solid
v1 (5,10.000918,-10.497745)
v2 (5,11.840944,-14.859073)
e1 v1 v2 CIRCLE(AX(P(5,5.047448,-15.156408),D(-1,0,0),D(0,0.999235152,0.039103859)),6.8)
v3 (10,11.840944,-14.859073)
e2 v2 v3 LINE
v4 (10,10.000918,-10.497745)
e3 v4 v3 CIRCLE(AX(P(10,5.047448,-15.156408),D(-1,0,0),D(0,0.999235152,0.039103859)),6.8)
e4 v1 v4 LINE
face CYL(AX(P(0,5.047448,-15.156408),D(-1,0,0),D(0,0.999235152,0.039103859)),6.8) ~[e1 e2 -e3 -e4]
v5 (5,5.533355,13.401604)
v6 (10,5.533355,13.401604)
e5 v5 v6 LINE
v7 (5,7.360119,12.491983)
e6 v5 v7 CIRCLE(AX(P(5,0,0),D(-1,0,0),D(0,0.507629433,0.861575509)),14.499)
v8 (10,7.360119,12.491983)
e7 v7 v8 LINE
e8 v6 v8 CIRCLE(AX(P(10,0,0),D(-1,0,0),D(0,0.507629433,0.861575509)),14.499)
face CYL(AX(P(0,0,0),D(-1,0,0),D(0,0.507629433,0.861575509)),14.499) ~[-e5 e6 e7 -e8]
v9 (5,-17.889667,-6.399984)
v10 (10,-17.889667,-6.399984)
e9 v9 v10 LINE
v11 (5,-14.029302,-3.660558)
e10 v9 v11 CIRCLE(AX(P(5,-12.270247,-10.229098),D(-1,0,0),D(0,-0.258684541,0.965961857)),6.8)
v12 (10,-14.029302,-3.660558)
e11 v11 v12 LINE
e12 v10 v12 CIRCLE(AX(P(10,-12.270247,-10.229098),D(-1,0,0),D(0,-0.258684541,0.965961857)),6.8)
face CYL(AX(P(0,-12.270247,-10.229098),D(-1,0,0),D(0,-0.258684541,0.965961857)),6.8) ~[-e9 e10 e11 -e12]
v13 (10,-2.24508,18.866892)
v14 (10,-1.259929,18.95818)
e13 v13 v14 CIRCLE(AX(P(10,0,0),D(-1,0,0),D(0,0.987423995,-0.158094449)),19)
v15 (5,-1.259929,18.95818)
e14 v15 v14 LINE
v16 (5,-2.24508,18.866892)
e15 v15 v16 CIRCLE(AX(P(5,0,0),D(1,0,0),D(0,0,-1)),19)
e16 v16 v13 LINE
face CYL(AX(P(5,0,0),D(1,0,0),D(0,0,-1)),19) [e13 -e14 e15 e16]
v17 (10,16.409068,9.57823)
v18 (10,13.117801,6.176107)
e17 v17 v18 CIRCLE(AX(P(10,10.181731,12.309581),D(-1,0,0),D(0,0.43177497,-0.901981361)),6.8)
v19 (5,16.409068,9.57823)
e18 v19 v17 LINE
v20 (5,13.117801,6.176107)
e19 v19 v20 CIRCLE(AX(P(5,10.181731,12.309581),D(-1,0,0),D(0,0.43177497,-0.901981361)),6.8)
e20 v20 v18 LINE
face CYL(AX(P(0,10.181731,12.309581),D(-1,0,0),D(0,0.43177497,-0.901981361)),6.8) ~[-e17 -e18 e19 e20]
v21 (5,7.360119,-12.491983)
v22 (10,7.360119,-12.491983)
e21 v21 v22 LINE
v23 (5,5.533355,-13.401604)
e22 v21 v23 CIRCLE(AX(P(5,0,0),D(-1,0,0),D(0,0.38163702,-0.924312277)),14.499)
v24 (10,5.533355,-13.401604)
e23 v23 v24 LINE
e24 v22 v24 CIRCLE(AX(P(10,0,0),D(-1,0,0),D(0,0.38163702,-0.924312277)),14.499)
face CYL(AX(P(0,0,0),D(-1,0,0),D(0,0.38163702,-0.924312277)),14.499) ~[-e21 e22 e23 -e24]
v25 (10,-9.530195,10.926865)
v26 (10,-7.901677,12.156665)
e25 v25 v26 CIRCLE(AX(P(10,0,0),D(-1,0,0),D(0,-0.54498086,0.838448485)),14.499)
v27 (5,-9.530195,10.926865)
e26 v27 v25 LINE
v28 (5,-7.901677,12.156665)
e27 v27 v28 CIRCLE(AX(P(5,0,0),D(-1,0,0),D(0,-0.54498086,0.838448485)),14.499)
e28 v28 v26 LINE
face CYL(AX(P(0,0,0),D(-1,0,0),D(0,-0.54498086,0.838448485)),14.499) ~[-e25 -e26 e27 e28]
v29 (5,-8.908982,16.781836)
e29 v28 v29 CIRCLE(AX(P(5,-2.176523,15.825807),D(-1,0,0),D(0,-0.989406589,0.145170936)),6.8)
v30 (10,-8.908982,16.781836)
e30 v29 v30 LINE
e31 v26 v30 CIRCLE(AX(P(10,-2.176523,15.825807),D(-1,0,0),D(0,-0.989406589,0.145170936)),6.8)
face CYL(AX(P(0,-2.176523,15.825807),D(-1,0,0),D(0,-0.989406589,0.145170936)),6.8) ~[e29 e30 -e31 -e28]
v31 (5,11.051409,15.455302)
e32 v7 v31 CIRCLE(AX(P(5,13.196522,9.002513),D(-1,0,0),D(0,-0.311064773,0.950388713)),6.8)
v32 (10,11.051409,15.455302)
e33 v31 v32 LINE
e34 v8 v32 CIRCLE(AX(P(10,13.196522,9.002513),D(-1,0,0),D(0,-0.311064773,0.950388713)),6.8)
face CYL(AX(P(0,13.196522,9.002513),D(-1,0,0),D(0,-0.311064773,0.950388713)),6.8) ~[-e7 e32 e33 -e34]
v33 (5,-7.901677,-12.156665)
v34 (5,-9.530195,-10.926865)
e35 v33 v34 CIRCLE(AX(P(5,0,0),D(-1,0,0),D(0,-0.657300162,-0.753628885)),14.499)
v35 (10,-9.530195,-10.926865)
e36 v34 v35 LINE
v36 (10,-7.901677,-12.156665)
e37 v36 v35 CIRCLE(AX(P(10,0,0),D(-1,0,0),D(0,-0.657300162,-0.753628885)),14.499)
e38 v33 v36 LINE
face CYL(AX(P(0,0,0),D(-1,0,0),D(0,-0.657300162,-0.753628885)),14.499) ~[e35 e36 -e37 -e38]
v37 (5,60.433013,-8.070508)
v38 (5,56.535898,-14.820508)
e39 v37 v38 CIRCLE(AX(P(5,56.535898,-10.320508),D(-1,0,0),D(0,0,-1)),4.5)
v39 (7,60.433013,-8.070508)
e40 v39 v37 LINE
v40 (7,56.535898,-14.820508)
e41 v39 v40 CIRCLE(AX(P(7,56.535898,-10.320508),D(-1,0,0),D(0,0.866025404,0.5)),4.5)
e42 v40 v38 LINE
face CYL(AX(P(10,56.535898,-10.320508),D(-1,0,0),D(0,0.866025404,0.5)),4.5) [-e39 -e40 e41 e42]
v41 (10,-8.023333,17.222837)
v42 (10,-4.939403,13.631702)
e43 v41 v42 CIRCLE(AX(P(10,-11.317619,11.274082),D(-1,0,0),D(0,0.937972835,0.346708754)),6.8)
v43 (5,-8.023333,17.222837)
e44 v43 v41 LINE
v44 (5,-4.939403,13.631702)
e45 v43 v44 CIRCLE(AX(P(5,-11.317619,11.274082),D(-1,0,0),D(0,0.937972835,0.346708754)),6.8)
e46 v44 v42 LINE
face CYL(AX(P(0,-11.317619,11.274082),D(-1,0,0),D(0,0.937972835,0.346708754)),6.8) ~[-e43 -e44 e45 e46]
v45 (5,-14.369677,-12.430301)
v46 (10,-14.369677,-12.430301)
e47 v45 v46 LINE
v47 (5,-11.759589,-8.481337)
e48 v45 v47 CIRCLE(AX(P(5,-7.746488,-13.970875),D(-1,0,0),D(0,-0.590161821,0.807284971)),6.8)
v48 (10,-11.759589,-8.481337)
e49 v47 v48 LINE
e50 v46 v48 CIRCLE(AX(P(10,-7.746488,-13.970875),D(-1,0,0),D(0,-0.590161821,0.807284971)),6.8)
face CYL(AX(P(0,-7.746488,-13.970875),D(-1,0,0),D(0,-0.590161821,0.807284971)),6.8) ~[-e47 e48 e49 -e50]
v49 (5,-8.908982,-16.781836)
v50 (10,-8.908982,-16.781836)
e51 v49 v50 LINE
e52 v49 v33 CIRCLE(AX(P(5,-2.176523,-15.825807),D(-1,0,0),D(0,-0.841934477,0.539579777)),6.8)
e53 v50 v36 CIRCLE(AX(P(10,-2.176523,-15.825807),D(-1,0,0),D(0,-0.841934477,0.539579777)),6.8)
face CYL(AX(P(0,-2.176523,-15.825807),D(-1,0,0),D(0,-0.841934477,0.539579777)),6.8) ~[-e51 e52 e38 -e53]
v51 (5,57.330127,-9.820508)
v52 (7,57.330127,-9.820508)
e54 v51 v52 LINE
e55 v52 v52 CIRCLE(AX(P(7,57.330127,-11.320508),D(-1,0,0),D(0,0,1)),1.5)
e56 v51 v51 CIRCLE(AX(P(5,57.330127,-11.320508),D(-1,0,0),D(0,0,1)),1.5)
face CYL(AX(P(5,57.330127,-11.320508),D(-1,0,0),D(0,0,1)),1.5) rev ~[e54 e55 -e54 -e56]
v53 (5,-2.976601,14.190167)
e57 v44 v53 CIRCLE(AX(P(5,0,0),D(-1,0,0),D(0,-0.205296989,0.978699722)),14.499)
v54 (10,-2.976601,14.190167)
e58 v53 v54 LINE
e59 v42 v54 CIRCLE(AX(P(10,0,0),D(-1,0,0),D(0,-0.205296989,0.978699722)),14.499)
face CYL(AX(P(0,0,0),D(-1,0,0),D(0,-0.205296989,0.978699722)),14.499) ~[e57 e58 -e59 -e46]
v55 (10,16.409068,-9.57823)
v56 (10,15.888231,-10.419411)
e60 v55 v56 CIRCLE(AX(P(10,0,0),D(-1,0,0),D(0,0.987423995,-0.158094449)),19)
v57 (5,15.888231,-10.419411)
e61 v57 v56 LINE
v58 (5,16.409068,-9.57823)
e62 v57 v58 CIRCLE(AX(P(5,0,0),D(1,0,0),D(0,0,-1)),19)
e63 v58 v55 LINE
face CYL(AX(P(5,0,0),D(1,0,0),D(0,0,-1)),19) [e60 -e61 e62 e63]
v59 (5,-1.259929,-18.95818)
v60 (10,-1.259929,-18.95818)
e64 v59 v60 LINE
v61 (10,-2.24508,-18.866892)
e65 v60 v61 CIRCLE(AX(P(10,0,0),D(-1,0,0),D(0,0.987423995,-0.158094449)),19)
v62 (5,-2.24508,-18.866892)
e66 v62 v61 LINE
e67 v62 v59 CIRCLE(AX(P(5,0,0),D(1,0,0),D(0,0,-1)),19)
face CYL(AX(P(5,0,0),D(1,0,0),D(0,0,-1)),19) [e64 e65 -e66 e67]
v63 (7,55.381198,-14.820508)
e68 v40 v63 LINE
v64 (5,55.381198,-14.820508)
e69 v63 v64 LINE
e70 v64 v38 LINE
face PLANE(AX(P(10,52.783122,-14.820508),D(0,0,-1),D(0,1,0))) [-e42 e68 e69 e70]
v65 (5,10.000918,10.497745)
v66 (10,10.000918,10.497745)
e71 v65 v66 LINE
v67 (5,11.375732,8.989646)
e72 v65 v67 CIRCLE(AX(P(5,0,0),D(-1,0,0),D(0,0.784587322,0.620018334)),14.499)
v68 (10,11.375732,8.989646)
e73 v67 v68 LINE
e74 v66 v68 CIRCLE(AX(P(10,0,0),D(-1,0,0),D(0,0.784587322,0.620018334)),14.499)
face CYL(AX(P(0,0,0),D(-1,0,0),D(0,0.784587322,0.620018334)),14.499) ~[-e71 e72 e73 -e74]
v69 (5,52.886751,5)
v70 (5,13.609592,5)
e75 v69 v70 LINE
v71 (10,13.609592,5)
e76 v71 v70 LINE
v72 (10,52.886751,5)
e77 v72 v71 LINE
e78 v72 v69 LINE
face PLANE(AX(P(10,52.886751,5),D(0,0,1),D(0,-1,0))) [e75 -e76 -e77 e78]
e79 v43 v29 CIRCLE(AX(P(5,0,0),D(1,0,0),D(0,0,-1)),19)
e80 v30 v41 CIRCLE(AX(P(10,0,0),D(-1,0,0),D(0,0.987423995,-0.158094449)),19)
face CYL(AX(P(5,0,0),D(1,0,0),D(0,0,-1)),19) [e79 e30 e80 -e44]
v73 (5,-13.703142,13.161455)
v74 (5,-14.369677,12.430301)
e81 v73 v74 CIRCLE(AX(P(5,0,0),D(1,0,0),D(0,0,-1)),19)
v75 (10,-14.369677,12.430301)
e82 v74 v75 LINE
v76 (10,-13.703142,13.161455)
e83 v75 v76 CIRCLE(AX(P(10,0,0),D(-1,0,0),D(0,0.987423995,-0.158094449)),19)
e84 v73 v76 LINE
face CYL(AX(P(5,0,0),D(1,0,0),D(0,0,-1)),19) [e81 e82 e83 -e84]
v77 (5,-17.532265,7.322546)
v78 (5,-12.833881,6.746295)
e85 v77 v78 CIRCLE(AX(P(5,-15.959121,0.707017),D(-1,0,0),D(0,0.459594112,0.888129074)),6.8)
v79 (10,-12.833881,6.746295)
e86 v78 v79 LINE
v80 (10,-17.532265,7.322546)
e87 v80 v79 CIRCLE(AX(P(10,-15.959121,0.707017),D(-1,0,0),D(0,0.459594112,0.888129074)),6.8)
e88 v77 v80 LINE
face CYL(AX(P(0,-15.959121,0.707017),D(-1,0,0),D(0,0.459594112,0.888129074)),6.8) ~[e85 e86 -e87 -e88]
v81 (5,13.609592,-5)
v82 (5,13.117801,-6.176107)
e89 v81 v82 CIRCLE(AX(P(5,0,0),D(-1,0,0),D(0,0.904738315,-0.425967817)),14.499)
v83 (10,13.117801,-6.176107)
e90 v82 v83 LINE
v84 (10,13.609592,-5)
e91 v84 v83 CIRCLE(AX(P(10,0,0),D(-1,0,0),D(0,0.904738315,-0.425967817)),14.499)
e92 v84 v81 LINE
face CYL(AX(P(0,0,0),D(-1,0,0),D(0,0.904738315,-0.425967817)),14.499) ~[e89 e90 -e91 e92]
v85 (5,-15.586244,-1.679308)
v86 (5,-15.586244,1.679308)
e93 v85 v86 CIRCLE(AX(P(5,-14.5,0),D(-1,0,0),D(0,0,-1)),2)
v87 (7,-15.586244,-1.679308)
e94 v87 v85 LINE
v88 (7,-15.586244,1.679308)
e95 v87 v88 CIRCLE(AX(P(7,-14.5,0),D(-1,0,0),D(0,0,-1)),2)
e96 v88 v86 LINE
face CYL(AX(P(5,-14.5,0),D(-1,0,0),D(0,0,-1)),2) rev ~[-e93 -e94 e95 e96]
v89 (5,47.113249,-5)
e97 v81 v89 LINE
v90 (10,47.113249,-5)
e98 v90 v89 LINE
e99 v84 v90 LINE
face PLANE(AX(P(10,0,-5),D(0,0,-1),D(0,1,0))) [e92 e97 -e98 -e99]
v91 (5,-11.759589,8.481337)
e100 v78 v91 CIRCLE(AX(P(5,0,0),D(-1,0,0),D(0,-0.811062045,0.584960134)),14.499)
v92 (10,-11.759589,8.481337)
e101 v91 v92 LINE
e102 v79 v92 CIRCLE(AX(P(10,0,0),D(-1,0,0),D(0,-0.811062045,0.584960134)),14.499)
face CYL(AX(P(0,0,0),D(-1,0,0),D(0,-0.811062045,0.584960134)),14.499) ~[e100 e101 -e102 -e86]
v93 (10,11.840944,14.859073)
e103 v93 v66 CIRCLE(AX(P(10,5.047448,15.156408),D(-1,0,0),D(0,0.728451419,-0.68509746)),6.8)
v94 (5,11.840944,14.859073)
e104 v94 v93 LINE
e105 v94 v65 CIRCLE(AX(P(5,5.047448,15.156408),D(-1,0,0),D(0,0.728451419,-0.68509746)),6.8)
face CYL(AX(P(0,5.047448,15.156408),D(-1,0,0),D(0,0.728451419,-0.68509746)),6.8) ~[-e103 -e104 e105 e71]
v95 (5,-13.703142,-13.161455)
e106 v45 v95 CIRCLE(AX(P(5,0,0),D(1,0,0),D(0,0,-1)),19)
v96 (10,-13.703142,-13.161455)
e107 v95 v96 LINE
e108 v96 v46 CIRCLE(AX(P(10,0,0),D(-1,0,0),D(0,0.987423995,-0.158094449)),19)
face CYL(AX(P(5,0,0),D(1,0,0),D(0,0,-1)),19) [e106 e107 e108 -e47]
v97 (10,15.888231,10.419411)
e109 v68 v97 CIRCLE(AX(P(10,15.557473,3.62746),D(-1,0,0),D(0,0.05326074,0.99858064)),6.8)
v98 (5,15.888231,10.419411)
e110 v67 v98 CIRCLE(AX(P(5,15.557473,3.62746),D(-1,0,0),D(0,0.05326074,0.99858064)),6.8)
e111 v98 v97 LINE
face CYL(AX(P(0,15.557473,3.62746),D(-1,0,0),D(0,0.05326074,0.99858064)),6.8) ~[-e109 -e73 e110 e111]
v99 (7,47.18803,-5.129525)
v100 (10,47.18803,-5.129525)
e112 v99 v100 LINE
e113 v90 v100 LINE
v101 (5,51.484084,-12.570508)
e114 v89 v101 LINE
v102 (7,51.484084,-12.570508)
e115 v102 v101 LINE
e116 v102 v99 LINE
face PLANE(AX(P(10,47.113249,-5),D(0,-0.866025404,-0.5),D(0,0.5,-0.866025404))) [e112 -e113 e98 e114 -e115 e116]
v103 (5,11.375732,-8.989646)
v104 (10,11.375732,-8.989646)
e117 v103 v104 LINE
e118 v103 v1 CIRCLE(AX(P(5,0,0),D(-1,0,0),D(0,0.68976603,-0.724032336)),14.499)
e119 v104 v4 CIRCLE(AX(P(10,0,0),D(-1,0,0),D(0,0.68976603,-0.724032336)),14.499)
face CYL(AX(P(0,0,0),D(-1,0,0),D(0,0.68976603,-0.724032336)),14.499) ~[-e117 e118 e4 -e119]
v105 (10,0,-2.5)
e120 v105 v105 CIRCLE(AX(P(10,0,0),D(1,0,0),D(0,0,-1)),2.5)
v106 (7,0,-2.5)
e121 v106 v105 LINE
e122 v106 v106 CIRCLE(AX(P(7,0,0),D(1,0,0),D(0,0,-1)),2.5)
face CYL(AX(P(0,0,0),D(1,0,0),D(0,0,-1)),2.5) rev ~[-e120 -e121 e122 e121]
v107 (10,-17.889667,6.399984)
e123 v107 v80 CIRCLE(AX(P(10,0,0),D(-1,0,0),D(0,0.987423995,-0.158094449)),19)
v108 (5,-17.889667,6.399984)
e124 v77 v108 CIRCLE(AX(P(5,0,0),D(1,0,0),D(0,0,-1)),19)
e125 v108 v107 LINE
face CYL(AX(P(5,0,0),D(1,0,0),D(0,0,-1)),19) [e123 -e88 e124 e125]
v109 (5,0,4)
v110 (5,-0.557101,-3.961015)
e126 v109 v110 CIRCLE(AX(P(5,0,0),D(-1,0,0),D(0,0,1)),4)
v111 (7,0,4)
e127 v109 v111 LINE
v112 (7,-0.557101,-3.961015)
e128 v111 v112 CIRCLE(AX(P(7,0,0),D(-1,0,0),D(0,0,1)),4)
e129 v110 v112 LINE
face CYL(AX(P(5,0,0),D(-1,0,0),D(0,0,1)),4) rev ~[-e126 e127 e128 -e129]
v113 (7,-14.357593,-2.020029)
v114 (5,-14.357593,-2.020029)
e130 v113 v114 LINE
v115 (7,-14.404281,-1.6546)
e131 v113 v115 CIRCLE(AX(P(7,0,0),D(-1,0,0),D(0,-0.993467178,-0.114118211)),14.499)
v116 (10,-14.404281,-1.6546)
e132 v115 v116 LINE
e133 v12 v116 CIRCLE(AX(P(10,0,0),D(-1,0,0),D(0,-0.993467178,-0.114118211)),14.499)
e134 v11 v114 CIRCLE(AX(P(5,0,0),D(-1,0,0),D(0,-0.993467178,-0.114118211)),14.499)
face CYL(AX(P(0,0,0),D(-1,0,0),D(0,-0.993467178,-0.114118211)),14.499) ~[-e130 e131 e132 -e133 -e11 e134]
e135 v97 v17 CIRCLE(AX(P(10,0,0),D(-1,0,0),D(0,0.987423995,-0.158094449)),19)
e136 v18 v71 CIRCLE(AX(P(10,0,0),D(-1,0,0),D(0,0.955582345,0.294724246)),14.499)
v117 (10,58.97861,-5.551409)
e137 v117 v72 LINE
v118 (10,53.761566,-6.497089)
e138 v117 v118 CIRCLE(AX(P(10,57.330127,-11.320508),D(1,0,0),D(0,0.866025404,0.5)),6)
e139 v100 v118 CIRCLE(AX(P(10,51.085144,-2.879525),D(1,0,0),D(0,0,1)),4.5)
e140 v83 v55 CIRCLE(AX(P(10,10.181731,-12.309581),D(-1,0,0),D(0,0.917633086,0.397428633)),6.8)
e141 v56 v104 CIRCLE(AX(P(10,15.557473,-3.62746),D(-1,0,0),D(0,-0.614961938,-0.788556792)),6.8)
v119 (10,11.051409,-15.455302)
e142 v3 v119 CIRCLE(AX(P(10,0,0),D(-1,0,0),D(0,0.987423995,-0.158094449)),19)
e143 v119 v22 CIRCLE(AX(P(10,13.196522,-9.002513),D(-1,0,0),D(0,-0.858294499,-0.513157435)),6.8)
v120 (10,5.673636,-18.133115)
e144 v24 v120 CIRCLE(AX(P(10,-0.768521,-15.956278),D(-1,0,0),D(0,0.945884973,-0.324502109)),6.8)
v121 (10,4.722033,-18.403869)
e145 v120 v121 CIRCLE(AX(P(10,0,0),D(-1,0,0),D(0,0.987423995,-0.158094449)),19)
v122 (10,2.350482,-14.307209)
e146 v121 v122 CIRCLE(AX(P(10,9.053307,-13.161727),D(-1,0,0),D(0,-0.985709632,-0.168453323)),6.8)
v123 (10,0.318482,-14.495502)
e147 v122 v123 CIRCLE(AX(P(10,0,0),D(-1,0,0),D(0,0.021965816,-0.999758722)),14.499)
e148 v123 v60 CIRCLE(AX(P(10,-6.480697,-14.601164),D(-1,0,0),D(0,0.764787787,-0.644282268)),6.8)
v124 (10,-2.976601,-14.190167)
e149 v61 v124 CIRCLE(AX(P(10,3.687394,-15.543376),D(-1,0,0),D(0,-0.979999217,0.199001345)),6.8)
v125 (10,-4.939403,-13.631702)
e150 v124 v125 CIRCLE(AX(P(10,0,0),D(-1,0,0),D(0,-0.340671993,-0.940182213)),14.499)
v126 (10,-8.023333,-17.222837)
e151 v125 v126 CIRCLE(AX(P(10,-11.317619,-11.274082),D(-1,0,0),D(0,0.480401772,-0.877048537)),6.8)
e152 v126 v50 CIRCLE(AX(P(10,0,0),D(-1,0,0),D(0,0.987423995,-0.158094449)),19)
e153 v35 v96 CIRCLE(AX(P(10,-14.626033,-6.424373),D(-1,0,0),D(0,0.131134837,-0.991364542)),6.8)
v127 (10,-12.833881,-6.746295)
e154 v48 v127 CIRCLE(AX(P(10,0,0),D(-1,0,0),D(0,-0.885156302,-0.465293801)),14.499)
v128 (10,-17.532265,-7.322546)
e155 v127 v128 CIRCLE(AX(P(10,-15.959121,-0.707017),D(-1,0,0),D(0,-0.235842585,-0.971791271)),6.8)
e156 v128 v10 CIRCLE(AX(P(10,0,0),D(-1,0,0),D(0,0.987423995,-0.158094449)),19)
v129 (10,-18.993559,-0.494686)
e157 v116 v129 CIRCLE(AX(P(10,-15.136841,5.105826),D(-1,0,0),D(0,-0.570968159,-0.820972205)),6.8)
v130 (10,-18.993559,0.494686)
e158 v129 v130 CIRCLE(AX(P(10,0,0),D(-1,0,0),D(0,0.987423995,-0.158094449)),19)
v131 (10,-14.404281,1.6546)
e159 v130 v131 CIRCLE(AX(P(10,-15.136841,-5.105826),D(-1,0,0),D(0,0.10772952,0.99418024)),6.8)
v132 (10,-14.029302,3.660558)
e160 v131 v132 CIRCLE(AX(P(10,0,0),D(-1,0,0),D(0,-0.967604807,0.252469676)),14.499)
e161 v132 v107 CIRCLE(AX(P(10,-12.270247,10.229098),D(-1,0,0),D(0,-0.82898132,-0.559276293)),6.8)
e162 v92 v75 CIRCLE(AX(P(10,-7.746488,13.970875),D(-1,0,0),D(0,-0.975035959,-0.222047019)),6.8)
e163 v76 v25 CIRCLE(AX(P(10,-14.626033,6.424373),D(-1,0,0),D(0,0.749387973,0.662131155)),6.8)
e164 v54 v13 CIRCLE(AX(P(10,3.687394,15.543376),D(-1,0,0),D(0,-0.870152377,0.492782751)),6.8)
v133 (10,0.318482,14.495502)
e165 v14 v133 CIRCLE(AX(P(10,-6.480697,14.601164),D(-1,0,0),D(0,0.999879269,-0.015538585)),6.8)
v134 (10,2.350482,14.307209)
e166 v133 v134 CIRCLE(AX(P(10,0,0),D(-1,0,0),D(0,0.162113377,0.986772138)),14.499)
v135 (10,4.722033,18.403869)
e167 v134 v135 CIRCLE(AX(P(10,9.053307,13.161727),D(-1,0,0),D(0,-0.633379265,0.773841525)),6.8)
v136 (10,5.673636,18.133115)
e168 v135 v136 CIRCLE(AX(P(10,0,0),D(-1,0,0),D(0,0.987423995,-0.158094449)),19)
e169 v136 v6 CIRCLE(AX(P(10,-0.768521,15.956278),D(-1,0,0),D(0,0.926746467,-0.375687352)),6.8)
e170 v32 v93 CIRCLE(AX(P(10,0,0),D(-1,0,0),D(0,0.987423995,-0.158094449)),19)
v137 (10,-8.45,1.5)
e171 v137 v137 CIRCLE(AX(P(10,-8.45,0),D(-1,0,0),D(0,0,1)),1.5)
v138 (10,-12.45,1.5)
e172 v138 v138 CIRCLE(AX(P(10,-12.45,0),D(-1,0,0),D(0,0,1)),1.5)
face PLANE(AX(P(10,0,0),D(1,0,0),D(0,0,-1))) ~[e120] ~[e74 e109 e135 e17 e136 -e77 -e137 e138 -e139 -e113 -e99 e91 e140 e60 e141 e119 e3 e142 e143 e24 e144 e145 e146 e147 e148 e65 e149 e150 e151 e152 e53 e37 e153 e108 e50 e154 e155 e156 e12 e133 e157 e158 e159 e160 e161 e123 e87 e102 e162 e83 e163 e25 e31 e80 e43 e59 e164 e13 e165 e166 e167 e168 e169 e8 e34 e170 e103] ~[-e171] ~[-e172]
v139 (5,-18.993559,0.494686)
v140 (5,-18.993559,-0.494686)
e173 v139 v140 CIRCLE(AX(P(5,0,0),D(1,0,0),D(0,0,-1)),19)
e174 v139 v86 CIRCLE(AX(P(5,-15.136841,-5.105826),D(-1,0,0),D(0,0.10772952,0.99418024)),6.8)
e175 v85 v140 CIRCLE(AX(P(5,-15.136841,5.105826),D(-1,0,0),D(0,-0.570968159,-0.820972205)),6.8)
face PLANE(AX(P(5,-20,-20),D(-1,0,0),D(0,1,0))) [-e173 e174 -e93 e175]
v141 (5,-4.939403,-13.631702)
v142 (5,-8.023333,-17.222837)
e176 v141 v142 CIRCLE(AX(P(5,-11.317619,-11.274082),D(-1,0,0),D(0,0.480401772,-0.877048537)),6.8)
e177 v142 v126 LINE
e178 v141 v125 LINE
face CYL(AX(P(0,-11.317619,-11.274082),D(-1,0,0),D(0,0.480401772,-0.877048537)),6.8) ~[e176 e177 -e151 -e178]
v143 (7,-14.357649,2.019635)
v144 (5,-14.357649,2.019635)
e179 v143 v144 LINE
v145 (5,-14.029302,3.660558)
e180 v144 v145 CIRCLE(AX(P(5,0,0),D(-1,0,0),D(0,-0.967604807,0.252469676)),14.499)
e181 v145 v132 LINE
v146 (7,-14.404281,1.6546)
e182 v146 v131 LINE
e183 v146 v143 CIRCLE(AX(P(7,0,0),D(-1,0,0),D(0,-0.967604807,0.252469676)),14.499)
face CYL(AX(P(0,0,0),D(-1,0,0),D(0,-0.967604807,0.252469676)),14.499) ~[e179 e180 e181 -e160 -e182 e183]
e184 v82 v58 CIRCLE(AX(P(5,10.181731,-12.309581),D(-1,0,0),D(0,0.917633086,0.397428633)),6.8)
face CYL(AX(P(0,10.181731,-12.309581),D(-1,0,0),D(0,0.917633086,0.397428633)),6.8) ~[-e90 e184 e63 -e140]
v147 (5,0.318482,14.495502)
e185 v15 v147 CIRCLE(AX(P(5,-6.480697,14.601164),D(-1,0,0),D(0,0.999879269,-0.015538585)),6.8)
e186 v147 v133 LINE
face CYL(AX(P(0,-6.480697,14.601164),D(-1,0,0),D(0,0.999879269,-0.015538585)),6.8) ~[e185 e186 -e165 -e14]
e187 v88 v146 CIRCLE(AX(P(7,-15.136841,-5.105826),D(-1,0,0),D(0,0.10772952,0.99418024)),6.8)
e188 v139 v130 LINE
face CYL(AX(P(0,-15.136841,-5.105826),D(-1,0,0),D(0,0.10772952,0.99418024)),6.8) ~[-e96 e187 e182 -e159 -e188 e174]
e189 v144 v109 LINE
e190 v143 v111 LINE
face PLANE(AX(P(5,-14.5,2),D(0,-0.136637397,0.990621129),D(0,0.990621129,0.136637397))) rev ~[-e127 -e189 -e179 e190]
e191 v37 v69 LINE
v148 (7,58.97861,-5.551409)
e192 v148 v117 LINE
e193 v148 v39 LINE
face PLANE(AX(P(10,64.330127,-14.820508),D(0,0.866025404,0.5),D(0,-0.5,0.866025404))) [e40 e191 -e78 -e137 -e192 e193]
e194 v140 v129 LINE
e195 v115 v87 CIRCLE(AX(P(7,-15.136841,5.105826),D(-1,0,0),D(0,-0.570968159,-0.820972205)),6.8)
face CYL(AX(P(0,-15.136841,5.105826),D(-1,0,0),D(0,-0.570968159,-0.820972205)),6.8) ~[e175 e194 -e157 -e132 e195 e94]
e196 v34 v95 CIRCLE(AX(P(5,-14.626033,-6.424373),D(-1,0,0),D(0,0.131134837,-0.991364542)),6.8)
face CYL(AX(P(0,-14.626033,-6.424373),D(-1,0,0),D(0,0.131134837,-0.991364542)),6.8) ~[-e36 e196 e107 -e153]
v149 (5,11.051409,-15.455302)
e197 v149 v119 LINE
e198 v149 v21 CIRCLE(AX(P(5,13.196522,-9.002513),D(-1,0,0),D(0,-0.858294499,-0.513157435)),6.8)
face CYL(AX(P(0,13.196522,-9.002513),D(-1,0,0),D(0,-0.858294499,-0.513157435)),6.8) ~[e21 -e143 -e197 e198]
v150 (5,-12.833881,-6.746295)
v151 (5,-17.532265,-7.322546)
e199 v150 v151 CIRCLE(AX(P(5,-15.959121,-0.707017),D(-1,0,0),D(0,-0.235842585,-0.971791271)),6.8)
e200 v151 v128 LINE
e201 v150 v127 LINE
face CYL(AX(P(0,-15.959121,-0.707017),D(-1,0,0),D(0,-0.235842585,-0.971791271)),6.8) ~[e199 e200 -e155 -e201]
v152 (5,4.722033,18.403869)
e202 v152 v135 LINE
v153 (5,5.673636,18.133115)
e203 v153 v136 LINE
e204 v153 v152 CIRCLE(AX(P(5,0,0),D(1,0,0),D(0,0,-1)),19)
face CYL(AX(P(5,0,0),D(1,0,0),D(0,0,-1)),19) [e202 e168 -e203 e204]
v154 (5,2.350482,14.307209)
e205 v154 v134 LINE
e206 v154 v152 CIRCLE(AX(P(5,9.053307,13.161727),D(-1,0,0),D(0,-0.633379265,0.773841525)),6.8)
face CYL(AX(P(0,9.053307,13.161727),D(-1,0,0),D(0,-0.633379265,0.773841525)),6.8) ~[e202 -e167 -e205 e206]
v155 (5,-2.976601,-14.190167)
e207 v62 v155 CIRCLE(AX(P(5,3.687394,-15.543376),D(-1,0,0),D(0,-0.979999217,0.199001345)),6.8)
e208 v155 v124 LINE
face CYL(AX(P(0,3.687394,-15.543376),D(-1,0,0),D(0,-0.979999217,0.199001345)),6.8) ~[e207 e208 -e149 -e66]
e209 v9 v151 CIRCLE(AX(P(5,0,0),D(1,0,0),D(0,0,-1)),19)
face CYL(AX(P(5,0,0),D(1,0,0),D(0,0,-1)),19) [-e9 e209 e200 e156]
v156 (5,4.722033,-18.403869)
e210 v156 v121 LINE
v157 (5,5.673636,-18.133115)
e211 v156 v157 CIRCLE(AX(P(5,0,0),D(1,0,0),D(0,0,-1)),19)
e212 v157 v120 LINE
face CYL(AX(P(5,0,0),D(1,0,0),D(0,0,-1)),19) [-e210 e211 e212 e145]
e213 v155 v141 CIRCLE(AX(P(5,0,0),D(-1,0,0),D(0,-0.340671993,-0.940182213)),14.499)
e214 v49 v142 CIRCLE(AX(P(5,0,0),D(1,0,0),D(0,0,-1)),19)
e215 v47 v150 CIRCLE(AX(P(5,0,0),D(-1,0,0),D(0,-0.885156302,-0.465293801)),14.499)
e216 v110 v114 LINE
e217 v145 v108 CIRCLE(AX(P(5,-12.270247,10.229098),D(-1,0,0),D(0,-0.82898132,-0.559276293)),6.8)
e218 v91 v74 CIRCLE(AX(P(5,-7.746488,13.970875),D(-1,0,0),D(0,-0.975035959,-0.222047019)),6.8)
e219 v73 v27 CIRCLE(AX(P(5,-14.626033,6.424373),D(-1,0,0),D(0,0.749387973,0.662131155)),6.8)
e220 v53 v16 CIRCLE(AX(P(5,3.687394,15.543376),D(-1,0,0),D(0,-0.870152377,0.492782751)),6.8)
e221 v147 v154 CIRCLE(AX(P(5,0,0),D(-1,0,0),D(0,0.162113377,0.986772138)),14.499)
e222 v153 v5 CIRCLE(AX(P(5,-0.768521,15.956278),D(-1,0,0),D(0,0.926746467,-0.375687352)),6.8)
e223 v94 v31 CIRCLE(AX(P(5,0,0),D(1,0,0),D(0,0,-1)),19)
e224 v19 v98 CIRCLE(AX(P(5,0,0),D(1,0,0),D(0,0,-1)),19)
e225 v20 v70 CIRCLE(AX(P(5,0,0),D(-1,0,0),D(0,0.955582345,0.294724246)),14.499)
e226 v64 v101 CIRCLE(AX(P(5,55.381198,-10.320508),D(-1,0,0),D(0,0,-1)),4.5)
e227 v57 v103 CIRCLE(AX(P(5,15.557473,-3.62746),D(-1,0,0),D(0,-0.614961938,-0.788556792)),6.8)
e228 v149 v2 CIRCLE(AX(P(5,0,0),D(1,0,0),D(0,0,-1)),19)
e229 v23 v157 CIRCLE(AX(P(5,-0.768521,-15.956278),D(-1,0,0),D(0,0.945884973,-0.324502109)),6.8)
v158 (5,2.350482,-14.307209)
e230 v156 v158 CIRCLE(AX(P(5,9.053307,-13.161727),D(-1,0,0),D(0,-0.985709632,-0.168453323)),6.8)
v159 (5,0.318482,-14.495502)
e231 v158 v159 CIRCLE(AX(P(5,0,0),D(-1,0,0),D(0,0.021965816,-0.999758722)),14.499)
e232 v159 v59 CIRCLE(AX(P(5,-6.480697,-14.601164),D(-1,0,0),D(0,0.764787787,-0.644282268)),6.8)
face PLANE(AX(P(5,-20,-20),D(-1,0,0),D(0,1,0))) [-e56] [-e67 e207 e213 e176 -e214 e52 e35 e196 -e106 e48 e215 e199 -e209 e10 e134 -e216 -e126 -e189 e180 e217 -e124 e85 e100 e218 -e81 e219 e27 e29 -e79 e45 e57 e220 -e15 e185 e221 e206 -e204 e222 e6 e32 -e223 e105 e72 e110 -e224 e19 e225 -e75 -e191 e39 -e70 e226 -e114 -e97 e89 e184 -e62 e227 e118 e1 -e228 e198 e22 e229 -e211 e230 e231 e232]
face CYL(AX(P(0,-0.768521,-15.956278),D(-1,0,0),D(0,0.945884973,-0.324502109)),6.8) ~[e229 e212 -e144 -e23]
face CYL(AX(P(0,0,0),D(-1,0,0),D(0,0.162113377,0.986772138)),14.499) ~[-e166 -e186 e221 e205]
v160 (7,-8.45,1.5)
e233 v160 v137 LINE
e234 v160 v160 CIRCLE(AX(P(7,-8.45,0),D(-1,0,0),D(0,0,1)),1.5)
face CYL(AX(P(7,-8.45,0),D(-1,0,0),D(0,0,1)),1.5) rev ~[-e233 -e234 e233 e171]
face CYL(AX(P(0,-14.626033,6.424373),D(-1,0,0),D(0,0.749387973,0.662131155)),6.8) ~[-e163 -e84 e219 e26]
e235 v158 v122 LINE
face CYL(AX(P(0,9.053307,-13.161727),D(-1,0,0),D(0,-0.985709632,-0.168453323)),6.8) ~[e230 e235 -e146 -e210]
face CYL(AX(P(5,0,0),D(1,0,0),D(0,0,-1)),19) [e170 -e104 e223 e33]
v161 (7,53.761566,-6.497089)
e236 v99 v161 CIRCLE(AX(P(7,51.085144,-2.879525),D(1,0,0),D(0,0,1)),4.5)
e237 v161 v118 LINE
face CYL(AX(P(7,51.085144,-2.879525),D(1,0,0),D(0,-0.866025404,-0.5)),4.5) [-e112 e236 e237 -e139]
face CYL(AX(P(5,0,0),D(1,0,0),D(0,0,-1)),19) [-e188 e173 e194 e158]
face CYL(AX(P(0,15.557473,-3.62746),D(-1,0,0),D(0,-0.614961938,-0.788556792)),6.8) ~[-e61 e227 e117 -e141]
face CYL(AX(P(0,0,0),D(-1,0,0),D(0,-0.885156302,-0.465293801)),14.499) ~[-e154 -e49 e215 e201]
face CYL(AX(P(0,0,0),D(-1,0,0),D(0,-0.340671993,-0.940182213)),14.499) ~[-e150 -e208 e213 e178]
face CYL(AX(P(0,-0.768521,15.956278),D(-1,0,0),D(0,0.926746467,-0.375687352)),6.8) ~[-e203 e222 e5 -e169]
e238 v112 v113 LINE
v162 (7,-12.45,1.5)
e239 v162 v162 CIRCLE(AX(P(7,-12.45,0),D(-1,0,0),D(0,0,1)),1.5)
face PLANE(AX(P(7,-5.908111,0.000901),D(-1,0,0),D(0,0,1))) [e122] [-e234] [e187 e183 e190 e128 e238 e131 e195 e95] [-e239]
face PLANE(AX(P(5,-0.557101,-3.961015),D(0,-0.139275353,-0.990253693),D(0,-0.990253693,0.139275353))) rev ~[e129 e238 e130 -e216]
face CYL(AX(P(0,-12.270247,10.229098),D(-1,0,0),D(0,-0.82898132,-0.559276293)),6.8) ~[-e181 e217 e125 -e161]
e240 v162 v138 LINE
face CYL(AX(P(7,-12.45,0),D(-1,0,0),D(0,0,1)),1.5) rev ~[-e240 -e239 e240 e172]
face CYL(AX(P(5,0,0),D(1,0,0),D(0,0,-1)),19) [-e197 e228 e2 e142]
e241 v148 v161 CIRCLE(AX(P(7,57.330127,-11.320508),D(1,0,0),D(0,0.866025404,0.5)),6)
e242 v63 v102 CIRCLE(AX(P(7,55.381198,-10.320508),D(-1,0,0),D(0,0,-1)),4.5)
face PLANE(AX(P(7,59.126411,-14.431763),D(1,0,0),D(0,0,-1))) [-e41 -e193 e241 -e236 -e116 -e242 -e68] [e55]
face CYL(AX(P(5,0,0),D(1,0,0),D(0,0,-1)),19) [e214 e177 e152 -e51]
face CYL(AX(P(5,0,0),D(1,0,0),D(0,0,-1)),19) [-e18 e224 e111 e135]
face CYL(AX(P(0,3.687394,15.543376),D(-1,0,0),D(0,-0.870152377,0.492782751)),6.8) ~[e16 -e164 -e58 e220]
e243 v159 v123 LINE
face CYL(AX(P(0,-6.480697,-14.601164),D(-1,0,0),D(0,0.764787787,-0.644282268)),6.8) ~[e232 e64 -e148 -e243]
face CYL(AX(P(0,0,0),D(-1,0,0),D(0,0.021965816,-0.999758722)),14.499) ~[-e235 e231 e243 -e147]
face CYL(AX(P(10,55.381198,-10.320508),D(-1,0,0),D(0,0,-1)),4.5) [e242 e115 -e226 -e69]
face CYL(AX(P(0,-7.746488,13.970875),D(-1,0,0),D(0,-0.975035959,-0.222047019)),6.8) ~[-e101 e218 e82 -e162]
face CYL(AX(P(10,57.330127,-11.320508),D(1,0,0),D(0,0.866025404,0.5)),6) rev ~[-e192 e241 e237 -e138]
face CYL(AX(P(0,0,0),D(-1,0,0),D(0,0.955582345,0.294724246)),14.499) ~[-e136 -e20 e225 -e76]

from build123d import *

# Parameters (mm, degrees)
BASPROSKE_W             = 10
BASPROSKE_H             = 19
TOOTHCUT_DEPTH          = 29.670542374
TEETHCUTS_COUNT         = 17
TEETHCUTS_ANGLE         = 338.823529412
BORSKE_R                = 2.5
BORE_DEPTH              = 50.0019304
CUT_EXTRUDE1_DEPTH      = 20
CUT_EXTRUDE1_DEPTH_BACK = 20
SKETCH1_W               = 10
SKETCH1_H               = 40
BOSS_EXTRUDE1_DEPTH     = 5
SKETCH5_R               = 1.5
CUT_EXTRUDE5_DEPTH      = 68.251600881
FILLET2_R               = 4.5
CUT_EXTRUDE7_DEPTH      = 3
CUT_EXTRUDE8_DEPTH      = 2
SKETCH8_R               = 1.5
CUT_EXTRUDE9_DEPTH      = 64.982759166
FILLET3_R               = 4.5


with BuildPart() as part:
    # BasProSke → Base-Revolve (revolve)
    with BuildSketch(Plane(origin=(0, 0, 0), x_dir=(1, 0, 0), z_dir=(0, 1, 0))):
        with Locations((5, 9.5)):
            Rectangle(BASPROSKE_W, BASPROSKE_H)
    revolve(axis=Axis((-10, 0, 0), (1, 0, 0)))

    # TooCutSke → ToothCut (cut, through all)
    with BuildSketch(Plane(origin=(0, 0, 0), x_dir=(0, 0, -1), z_dir=(1, 0, 0))):
        with BuildLine():
            ThreePointArc((1.020352389, 14.463052306), (0, 14.499), (-1.020352389, 14.463052306))
            ThreePointArc((-1.020352389, 14.463052306), (-1.632621885, 16.804485203), (-3.026143023, 18.783192049))
            ThreePointArc((-3.026143023, 18.783192049), (0, 19.0254), (3.026143023, 18.783192049))
            ThreePointArc((3.026143023, 18.783192049), (1.632621885, 16.804485203), (1.020352389, 14.463052306))
        make_face()
    toothcut = extrude(amount=TOOTHCUT_DEPTH, mode=Mode.SUBTRACT)

    # TeethCuts: ToothCut ×17 about axis
    teethcuts_axis = Axis((-10, 0, 0), (1, 0, 0))
    for i in range(1, TEETHCUTS_COUNT):
        add(toothcut.rotate(teethcuts_axis, i * TEETHCUTS_ANGLE / (TEETHCUTS_COUNT - 1)), mode=Mode.SUBTRACT)

    # BorSke → Bore (cut, symmetric)
    with BuildSketch(Plane(origin=(0, 0, 0), x_dir=(0, 0, -1), z_dir=(1, 0, 0))):
        Circle(BORSKE_R)
    extrude(amount=BORE_DEPTH, both=True, mode=Mode.SUBTRACT)

    # Sketch1 → Cut-Extrude1 (cut, two sides: drawn at the far end of the back side and taken through both)
    with BuildSketch(Plane.XY.offset(-CUT_EXTRUDE1_DEPTH_BACK)):
        Rectangle(SKETCH1_W, SKETCH1_H)
    extrude(amount=CUT_EXTRUDE1_DEPTH + CUT_EXTRUDE1_DEPTH_BACK, mode=Mode.SUBTRACT)

    # Sketch4 → Boss-Extrude1 (add)
    with BuildSketch(Plane(origin=(10, 0, 0), x_dir=(0, 0, -1), z_dir=(1, 0, 0))):
        with BuildLine():
            Line((5, 0), (5, 47.113248654))
            Line((5, 47.113248654), (14.820508076, 52.783121635))
            Line((14.820508076, 52.783121635), (14.820508076, 64.330127019))
            Line((14.820508076, 64.330127019), (-5, 52.886751346))
            Line((-5, 52.886751346), (-5, 0))
            Line((-5, 0), (-2.5, 0))
            ThreePointArc((-2.5, 0), (0, 2.5), (2.5, 0))
            Line((2.5, 0), (5, 0))
        make_face()
    extrude(amount=-BOSS_EXTRUDE1_DEPTH)

    # Sketch5 → Cut-Extrude5 (cut, through all)
    with BuildSketch(Plane.ZY.offset(-5)):
        with Locations((-11.320508076, 57.330127019)):
            Circle(SKETCH5_R)
    extrude(amount=-CUT_EXTRUDE5_DEPTH, mode=Mode.SUBTRACT)

    # Fillet2
    fillet2_edges = [part.edges().sort_by_distance(p)[0] for p in [
        (7.5, 52.783121635, -14.820508076),
        (7.5, 64.330127019, -14.820508076),
    ]]
    fillet(fillet2_edges, radius=FILLET2_R)

    # Sketch7 → Cut-Extrude7 (cut)
    with BuildSketch(Plane(origin=(10, 0, 0), x_dir=(0, 0, -1), z_dir=(1, 0, 0))):
        with BuildLine():
            Line((17.722340532, 67.954429941), (8.320508076, 62.526279442))
            ThreePointArc((8.320508076, 62.526279442), (6.124355653, 54.330127019), (14.320508076, 52.133974596))
            Line((14.320508076, 52.133974596), (23.722340532, 57.562125096))
            Line((23.722340532, 57.562125096), (17.722340532, 67.954429941))
        make_face()
    extrude(amount=-CUT_EXTRUDE7_DEPTH, mode=Mode.SUBTRACT)

    # Sketch2 → Cut-Extrude8 (cut)
    with BuildSketch(Plane.ZY.offset(-5)):
        with BuildLine():
            Line((2, -14.5), (4, 0))
            ThreePointArc((4, 0), (-0.279231906, 3.99024179), (-3.961014771, -0.557101411))
            Line((-3.961014771, -0.557101411), (-2, -14.5))
            ThreePointArc((-2, -14.5), (0, -16.5), (2, -14.5))
        make_face()
    extrude(amount=-CUT_EXTRUDE8_DEPTH, mode=Mode.SUBTRACT)

    # Sketch8 → Cut-Extrude9 (cut, through all)
    with BuildSketch(Plane.ZY.offset(-7)):
        with Locations((0, -8.45)):
            Circle(SKETCH8_R)
        with Locations((0, -12.45)):
            Circle(SKETCH8_R)
    extrude(amount=-CUT_EXTRUDE9_DEPTH, mode=Mode.SUBTRACT)

    # Fillet3
    fillet3_edges = [part.edges().sort_by_distance(p)[0] for p in [
        (8.5, 51.449252752, -12.5101794),
    ]]
    fillet(fillet3_edges, radius=FILLET3_R)


solid = part.part
